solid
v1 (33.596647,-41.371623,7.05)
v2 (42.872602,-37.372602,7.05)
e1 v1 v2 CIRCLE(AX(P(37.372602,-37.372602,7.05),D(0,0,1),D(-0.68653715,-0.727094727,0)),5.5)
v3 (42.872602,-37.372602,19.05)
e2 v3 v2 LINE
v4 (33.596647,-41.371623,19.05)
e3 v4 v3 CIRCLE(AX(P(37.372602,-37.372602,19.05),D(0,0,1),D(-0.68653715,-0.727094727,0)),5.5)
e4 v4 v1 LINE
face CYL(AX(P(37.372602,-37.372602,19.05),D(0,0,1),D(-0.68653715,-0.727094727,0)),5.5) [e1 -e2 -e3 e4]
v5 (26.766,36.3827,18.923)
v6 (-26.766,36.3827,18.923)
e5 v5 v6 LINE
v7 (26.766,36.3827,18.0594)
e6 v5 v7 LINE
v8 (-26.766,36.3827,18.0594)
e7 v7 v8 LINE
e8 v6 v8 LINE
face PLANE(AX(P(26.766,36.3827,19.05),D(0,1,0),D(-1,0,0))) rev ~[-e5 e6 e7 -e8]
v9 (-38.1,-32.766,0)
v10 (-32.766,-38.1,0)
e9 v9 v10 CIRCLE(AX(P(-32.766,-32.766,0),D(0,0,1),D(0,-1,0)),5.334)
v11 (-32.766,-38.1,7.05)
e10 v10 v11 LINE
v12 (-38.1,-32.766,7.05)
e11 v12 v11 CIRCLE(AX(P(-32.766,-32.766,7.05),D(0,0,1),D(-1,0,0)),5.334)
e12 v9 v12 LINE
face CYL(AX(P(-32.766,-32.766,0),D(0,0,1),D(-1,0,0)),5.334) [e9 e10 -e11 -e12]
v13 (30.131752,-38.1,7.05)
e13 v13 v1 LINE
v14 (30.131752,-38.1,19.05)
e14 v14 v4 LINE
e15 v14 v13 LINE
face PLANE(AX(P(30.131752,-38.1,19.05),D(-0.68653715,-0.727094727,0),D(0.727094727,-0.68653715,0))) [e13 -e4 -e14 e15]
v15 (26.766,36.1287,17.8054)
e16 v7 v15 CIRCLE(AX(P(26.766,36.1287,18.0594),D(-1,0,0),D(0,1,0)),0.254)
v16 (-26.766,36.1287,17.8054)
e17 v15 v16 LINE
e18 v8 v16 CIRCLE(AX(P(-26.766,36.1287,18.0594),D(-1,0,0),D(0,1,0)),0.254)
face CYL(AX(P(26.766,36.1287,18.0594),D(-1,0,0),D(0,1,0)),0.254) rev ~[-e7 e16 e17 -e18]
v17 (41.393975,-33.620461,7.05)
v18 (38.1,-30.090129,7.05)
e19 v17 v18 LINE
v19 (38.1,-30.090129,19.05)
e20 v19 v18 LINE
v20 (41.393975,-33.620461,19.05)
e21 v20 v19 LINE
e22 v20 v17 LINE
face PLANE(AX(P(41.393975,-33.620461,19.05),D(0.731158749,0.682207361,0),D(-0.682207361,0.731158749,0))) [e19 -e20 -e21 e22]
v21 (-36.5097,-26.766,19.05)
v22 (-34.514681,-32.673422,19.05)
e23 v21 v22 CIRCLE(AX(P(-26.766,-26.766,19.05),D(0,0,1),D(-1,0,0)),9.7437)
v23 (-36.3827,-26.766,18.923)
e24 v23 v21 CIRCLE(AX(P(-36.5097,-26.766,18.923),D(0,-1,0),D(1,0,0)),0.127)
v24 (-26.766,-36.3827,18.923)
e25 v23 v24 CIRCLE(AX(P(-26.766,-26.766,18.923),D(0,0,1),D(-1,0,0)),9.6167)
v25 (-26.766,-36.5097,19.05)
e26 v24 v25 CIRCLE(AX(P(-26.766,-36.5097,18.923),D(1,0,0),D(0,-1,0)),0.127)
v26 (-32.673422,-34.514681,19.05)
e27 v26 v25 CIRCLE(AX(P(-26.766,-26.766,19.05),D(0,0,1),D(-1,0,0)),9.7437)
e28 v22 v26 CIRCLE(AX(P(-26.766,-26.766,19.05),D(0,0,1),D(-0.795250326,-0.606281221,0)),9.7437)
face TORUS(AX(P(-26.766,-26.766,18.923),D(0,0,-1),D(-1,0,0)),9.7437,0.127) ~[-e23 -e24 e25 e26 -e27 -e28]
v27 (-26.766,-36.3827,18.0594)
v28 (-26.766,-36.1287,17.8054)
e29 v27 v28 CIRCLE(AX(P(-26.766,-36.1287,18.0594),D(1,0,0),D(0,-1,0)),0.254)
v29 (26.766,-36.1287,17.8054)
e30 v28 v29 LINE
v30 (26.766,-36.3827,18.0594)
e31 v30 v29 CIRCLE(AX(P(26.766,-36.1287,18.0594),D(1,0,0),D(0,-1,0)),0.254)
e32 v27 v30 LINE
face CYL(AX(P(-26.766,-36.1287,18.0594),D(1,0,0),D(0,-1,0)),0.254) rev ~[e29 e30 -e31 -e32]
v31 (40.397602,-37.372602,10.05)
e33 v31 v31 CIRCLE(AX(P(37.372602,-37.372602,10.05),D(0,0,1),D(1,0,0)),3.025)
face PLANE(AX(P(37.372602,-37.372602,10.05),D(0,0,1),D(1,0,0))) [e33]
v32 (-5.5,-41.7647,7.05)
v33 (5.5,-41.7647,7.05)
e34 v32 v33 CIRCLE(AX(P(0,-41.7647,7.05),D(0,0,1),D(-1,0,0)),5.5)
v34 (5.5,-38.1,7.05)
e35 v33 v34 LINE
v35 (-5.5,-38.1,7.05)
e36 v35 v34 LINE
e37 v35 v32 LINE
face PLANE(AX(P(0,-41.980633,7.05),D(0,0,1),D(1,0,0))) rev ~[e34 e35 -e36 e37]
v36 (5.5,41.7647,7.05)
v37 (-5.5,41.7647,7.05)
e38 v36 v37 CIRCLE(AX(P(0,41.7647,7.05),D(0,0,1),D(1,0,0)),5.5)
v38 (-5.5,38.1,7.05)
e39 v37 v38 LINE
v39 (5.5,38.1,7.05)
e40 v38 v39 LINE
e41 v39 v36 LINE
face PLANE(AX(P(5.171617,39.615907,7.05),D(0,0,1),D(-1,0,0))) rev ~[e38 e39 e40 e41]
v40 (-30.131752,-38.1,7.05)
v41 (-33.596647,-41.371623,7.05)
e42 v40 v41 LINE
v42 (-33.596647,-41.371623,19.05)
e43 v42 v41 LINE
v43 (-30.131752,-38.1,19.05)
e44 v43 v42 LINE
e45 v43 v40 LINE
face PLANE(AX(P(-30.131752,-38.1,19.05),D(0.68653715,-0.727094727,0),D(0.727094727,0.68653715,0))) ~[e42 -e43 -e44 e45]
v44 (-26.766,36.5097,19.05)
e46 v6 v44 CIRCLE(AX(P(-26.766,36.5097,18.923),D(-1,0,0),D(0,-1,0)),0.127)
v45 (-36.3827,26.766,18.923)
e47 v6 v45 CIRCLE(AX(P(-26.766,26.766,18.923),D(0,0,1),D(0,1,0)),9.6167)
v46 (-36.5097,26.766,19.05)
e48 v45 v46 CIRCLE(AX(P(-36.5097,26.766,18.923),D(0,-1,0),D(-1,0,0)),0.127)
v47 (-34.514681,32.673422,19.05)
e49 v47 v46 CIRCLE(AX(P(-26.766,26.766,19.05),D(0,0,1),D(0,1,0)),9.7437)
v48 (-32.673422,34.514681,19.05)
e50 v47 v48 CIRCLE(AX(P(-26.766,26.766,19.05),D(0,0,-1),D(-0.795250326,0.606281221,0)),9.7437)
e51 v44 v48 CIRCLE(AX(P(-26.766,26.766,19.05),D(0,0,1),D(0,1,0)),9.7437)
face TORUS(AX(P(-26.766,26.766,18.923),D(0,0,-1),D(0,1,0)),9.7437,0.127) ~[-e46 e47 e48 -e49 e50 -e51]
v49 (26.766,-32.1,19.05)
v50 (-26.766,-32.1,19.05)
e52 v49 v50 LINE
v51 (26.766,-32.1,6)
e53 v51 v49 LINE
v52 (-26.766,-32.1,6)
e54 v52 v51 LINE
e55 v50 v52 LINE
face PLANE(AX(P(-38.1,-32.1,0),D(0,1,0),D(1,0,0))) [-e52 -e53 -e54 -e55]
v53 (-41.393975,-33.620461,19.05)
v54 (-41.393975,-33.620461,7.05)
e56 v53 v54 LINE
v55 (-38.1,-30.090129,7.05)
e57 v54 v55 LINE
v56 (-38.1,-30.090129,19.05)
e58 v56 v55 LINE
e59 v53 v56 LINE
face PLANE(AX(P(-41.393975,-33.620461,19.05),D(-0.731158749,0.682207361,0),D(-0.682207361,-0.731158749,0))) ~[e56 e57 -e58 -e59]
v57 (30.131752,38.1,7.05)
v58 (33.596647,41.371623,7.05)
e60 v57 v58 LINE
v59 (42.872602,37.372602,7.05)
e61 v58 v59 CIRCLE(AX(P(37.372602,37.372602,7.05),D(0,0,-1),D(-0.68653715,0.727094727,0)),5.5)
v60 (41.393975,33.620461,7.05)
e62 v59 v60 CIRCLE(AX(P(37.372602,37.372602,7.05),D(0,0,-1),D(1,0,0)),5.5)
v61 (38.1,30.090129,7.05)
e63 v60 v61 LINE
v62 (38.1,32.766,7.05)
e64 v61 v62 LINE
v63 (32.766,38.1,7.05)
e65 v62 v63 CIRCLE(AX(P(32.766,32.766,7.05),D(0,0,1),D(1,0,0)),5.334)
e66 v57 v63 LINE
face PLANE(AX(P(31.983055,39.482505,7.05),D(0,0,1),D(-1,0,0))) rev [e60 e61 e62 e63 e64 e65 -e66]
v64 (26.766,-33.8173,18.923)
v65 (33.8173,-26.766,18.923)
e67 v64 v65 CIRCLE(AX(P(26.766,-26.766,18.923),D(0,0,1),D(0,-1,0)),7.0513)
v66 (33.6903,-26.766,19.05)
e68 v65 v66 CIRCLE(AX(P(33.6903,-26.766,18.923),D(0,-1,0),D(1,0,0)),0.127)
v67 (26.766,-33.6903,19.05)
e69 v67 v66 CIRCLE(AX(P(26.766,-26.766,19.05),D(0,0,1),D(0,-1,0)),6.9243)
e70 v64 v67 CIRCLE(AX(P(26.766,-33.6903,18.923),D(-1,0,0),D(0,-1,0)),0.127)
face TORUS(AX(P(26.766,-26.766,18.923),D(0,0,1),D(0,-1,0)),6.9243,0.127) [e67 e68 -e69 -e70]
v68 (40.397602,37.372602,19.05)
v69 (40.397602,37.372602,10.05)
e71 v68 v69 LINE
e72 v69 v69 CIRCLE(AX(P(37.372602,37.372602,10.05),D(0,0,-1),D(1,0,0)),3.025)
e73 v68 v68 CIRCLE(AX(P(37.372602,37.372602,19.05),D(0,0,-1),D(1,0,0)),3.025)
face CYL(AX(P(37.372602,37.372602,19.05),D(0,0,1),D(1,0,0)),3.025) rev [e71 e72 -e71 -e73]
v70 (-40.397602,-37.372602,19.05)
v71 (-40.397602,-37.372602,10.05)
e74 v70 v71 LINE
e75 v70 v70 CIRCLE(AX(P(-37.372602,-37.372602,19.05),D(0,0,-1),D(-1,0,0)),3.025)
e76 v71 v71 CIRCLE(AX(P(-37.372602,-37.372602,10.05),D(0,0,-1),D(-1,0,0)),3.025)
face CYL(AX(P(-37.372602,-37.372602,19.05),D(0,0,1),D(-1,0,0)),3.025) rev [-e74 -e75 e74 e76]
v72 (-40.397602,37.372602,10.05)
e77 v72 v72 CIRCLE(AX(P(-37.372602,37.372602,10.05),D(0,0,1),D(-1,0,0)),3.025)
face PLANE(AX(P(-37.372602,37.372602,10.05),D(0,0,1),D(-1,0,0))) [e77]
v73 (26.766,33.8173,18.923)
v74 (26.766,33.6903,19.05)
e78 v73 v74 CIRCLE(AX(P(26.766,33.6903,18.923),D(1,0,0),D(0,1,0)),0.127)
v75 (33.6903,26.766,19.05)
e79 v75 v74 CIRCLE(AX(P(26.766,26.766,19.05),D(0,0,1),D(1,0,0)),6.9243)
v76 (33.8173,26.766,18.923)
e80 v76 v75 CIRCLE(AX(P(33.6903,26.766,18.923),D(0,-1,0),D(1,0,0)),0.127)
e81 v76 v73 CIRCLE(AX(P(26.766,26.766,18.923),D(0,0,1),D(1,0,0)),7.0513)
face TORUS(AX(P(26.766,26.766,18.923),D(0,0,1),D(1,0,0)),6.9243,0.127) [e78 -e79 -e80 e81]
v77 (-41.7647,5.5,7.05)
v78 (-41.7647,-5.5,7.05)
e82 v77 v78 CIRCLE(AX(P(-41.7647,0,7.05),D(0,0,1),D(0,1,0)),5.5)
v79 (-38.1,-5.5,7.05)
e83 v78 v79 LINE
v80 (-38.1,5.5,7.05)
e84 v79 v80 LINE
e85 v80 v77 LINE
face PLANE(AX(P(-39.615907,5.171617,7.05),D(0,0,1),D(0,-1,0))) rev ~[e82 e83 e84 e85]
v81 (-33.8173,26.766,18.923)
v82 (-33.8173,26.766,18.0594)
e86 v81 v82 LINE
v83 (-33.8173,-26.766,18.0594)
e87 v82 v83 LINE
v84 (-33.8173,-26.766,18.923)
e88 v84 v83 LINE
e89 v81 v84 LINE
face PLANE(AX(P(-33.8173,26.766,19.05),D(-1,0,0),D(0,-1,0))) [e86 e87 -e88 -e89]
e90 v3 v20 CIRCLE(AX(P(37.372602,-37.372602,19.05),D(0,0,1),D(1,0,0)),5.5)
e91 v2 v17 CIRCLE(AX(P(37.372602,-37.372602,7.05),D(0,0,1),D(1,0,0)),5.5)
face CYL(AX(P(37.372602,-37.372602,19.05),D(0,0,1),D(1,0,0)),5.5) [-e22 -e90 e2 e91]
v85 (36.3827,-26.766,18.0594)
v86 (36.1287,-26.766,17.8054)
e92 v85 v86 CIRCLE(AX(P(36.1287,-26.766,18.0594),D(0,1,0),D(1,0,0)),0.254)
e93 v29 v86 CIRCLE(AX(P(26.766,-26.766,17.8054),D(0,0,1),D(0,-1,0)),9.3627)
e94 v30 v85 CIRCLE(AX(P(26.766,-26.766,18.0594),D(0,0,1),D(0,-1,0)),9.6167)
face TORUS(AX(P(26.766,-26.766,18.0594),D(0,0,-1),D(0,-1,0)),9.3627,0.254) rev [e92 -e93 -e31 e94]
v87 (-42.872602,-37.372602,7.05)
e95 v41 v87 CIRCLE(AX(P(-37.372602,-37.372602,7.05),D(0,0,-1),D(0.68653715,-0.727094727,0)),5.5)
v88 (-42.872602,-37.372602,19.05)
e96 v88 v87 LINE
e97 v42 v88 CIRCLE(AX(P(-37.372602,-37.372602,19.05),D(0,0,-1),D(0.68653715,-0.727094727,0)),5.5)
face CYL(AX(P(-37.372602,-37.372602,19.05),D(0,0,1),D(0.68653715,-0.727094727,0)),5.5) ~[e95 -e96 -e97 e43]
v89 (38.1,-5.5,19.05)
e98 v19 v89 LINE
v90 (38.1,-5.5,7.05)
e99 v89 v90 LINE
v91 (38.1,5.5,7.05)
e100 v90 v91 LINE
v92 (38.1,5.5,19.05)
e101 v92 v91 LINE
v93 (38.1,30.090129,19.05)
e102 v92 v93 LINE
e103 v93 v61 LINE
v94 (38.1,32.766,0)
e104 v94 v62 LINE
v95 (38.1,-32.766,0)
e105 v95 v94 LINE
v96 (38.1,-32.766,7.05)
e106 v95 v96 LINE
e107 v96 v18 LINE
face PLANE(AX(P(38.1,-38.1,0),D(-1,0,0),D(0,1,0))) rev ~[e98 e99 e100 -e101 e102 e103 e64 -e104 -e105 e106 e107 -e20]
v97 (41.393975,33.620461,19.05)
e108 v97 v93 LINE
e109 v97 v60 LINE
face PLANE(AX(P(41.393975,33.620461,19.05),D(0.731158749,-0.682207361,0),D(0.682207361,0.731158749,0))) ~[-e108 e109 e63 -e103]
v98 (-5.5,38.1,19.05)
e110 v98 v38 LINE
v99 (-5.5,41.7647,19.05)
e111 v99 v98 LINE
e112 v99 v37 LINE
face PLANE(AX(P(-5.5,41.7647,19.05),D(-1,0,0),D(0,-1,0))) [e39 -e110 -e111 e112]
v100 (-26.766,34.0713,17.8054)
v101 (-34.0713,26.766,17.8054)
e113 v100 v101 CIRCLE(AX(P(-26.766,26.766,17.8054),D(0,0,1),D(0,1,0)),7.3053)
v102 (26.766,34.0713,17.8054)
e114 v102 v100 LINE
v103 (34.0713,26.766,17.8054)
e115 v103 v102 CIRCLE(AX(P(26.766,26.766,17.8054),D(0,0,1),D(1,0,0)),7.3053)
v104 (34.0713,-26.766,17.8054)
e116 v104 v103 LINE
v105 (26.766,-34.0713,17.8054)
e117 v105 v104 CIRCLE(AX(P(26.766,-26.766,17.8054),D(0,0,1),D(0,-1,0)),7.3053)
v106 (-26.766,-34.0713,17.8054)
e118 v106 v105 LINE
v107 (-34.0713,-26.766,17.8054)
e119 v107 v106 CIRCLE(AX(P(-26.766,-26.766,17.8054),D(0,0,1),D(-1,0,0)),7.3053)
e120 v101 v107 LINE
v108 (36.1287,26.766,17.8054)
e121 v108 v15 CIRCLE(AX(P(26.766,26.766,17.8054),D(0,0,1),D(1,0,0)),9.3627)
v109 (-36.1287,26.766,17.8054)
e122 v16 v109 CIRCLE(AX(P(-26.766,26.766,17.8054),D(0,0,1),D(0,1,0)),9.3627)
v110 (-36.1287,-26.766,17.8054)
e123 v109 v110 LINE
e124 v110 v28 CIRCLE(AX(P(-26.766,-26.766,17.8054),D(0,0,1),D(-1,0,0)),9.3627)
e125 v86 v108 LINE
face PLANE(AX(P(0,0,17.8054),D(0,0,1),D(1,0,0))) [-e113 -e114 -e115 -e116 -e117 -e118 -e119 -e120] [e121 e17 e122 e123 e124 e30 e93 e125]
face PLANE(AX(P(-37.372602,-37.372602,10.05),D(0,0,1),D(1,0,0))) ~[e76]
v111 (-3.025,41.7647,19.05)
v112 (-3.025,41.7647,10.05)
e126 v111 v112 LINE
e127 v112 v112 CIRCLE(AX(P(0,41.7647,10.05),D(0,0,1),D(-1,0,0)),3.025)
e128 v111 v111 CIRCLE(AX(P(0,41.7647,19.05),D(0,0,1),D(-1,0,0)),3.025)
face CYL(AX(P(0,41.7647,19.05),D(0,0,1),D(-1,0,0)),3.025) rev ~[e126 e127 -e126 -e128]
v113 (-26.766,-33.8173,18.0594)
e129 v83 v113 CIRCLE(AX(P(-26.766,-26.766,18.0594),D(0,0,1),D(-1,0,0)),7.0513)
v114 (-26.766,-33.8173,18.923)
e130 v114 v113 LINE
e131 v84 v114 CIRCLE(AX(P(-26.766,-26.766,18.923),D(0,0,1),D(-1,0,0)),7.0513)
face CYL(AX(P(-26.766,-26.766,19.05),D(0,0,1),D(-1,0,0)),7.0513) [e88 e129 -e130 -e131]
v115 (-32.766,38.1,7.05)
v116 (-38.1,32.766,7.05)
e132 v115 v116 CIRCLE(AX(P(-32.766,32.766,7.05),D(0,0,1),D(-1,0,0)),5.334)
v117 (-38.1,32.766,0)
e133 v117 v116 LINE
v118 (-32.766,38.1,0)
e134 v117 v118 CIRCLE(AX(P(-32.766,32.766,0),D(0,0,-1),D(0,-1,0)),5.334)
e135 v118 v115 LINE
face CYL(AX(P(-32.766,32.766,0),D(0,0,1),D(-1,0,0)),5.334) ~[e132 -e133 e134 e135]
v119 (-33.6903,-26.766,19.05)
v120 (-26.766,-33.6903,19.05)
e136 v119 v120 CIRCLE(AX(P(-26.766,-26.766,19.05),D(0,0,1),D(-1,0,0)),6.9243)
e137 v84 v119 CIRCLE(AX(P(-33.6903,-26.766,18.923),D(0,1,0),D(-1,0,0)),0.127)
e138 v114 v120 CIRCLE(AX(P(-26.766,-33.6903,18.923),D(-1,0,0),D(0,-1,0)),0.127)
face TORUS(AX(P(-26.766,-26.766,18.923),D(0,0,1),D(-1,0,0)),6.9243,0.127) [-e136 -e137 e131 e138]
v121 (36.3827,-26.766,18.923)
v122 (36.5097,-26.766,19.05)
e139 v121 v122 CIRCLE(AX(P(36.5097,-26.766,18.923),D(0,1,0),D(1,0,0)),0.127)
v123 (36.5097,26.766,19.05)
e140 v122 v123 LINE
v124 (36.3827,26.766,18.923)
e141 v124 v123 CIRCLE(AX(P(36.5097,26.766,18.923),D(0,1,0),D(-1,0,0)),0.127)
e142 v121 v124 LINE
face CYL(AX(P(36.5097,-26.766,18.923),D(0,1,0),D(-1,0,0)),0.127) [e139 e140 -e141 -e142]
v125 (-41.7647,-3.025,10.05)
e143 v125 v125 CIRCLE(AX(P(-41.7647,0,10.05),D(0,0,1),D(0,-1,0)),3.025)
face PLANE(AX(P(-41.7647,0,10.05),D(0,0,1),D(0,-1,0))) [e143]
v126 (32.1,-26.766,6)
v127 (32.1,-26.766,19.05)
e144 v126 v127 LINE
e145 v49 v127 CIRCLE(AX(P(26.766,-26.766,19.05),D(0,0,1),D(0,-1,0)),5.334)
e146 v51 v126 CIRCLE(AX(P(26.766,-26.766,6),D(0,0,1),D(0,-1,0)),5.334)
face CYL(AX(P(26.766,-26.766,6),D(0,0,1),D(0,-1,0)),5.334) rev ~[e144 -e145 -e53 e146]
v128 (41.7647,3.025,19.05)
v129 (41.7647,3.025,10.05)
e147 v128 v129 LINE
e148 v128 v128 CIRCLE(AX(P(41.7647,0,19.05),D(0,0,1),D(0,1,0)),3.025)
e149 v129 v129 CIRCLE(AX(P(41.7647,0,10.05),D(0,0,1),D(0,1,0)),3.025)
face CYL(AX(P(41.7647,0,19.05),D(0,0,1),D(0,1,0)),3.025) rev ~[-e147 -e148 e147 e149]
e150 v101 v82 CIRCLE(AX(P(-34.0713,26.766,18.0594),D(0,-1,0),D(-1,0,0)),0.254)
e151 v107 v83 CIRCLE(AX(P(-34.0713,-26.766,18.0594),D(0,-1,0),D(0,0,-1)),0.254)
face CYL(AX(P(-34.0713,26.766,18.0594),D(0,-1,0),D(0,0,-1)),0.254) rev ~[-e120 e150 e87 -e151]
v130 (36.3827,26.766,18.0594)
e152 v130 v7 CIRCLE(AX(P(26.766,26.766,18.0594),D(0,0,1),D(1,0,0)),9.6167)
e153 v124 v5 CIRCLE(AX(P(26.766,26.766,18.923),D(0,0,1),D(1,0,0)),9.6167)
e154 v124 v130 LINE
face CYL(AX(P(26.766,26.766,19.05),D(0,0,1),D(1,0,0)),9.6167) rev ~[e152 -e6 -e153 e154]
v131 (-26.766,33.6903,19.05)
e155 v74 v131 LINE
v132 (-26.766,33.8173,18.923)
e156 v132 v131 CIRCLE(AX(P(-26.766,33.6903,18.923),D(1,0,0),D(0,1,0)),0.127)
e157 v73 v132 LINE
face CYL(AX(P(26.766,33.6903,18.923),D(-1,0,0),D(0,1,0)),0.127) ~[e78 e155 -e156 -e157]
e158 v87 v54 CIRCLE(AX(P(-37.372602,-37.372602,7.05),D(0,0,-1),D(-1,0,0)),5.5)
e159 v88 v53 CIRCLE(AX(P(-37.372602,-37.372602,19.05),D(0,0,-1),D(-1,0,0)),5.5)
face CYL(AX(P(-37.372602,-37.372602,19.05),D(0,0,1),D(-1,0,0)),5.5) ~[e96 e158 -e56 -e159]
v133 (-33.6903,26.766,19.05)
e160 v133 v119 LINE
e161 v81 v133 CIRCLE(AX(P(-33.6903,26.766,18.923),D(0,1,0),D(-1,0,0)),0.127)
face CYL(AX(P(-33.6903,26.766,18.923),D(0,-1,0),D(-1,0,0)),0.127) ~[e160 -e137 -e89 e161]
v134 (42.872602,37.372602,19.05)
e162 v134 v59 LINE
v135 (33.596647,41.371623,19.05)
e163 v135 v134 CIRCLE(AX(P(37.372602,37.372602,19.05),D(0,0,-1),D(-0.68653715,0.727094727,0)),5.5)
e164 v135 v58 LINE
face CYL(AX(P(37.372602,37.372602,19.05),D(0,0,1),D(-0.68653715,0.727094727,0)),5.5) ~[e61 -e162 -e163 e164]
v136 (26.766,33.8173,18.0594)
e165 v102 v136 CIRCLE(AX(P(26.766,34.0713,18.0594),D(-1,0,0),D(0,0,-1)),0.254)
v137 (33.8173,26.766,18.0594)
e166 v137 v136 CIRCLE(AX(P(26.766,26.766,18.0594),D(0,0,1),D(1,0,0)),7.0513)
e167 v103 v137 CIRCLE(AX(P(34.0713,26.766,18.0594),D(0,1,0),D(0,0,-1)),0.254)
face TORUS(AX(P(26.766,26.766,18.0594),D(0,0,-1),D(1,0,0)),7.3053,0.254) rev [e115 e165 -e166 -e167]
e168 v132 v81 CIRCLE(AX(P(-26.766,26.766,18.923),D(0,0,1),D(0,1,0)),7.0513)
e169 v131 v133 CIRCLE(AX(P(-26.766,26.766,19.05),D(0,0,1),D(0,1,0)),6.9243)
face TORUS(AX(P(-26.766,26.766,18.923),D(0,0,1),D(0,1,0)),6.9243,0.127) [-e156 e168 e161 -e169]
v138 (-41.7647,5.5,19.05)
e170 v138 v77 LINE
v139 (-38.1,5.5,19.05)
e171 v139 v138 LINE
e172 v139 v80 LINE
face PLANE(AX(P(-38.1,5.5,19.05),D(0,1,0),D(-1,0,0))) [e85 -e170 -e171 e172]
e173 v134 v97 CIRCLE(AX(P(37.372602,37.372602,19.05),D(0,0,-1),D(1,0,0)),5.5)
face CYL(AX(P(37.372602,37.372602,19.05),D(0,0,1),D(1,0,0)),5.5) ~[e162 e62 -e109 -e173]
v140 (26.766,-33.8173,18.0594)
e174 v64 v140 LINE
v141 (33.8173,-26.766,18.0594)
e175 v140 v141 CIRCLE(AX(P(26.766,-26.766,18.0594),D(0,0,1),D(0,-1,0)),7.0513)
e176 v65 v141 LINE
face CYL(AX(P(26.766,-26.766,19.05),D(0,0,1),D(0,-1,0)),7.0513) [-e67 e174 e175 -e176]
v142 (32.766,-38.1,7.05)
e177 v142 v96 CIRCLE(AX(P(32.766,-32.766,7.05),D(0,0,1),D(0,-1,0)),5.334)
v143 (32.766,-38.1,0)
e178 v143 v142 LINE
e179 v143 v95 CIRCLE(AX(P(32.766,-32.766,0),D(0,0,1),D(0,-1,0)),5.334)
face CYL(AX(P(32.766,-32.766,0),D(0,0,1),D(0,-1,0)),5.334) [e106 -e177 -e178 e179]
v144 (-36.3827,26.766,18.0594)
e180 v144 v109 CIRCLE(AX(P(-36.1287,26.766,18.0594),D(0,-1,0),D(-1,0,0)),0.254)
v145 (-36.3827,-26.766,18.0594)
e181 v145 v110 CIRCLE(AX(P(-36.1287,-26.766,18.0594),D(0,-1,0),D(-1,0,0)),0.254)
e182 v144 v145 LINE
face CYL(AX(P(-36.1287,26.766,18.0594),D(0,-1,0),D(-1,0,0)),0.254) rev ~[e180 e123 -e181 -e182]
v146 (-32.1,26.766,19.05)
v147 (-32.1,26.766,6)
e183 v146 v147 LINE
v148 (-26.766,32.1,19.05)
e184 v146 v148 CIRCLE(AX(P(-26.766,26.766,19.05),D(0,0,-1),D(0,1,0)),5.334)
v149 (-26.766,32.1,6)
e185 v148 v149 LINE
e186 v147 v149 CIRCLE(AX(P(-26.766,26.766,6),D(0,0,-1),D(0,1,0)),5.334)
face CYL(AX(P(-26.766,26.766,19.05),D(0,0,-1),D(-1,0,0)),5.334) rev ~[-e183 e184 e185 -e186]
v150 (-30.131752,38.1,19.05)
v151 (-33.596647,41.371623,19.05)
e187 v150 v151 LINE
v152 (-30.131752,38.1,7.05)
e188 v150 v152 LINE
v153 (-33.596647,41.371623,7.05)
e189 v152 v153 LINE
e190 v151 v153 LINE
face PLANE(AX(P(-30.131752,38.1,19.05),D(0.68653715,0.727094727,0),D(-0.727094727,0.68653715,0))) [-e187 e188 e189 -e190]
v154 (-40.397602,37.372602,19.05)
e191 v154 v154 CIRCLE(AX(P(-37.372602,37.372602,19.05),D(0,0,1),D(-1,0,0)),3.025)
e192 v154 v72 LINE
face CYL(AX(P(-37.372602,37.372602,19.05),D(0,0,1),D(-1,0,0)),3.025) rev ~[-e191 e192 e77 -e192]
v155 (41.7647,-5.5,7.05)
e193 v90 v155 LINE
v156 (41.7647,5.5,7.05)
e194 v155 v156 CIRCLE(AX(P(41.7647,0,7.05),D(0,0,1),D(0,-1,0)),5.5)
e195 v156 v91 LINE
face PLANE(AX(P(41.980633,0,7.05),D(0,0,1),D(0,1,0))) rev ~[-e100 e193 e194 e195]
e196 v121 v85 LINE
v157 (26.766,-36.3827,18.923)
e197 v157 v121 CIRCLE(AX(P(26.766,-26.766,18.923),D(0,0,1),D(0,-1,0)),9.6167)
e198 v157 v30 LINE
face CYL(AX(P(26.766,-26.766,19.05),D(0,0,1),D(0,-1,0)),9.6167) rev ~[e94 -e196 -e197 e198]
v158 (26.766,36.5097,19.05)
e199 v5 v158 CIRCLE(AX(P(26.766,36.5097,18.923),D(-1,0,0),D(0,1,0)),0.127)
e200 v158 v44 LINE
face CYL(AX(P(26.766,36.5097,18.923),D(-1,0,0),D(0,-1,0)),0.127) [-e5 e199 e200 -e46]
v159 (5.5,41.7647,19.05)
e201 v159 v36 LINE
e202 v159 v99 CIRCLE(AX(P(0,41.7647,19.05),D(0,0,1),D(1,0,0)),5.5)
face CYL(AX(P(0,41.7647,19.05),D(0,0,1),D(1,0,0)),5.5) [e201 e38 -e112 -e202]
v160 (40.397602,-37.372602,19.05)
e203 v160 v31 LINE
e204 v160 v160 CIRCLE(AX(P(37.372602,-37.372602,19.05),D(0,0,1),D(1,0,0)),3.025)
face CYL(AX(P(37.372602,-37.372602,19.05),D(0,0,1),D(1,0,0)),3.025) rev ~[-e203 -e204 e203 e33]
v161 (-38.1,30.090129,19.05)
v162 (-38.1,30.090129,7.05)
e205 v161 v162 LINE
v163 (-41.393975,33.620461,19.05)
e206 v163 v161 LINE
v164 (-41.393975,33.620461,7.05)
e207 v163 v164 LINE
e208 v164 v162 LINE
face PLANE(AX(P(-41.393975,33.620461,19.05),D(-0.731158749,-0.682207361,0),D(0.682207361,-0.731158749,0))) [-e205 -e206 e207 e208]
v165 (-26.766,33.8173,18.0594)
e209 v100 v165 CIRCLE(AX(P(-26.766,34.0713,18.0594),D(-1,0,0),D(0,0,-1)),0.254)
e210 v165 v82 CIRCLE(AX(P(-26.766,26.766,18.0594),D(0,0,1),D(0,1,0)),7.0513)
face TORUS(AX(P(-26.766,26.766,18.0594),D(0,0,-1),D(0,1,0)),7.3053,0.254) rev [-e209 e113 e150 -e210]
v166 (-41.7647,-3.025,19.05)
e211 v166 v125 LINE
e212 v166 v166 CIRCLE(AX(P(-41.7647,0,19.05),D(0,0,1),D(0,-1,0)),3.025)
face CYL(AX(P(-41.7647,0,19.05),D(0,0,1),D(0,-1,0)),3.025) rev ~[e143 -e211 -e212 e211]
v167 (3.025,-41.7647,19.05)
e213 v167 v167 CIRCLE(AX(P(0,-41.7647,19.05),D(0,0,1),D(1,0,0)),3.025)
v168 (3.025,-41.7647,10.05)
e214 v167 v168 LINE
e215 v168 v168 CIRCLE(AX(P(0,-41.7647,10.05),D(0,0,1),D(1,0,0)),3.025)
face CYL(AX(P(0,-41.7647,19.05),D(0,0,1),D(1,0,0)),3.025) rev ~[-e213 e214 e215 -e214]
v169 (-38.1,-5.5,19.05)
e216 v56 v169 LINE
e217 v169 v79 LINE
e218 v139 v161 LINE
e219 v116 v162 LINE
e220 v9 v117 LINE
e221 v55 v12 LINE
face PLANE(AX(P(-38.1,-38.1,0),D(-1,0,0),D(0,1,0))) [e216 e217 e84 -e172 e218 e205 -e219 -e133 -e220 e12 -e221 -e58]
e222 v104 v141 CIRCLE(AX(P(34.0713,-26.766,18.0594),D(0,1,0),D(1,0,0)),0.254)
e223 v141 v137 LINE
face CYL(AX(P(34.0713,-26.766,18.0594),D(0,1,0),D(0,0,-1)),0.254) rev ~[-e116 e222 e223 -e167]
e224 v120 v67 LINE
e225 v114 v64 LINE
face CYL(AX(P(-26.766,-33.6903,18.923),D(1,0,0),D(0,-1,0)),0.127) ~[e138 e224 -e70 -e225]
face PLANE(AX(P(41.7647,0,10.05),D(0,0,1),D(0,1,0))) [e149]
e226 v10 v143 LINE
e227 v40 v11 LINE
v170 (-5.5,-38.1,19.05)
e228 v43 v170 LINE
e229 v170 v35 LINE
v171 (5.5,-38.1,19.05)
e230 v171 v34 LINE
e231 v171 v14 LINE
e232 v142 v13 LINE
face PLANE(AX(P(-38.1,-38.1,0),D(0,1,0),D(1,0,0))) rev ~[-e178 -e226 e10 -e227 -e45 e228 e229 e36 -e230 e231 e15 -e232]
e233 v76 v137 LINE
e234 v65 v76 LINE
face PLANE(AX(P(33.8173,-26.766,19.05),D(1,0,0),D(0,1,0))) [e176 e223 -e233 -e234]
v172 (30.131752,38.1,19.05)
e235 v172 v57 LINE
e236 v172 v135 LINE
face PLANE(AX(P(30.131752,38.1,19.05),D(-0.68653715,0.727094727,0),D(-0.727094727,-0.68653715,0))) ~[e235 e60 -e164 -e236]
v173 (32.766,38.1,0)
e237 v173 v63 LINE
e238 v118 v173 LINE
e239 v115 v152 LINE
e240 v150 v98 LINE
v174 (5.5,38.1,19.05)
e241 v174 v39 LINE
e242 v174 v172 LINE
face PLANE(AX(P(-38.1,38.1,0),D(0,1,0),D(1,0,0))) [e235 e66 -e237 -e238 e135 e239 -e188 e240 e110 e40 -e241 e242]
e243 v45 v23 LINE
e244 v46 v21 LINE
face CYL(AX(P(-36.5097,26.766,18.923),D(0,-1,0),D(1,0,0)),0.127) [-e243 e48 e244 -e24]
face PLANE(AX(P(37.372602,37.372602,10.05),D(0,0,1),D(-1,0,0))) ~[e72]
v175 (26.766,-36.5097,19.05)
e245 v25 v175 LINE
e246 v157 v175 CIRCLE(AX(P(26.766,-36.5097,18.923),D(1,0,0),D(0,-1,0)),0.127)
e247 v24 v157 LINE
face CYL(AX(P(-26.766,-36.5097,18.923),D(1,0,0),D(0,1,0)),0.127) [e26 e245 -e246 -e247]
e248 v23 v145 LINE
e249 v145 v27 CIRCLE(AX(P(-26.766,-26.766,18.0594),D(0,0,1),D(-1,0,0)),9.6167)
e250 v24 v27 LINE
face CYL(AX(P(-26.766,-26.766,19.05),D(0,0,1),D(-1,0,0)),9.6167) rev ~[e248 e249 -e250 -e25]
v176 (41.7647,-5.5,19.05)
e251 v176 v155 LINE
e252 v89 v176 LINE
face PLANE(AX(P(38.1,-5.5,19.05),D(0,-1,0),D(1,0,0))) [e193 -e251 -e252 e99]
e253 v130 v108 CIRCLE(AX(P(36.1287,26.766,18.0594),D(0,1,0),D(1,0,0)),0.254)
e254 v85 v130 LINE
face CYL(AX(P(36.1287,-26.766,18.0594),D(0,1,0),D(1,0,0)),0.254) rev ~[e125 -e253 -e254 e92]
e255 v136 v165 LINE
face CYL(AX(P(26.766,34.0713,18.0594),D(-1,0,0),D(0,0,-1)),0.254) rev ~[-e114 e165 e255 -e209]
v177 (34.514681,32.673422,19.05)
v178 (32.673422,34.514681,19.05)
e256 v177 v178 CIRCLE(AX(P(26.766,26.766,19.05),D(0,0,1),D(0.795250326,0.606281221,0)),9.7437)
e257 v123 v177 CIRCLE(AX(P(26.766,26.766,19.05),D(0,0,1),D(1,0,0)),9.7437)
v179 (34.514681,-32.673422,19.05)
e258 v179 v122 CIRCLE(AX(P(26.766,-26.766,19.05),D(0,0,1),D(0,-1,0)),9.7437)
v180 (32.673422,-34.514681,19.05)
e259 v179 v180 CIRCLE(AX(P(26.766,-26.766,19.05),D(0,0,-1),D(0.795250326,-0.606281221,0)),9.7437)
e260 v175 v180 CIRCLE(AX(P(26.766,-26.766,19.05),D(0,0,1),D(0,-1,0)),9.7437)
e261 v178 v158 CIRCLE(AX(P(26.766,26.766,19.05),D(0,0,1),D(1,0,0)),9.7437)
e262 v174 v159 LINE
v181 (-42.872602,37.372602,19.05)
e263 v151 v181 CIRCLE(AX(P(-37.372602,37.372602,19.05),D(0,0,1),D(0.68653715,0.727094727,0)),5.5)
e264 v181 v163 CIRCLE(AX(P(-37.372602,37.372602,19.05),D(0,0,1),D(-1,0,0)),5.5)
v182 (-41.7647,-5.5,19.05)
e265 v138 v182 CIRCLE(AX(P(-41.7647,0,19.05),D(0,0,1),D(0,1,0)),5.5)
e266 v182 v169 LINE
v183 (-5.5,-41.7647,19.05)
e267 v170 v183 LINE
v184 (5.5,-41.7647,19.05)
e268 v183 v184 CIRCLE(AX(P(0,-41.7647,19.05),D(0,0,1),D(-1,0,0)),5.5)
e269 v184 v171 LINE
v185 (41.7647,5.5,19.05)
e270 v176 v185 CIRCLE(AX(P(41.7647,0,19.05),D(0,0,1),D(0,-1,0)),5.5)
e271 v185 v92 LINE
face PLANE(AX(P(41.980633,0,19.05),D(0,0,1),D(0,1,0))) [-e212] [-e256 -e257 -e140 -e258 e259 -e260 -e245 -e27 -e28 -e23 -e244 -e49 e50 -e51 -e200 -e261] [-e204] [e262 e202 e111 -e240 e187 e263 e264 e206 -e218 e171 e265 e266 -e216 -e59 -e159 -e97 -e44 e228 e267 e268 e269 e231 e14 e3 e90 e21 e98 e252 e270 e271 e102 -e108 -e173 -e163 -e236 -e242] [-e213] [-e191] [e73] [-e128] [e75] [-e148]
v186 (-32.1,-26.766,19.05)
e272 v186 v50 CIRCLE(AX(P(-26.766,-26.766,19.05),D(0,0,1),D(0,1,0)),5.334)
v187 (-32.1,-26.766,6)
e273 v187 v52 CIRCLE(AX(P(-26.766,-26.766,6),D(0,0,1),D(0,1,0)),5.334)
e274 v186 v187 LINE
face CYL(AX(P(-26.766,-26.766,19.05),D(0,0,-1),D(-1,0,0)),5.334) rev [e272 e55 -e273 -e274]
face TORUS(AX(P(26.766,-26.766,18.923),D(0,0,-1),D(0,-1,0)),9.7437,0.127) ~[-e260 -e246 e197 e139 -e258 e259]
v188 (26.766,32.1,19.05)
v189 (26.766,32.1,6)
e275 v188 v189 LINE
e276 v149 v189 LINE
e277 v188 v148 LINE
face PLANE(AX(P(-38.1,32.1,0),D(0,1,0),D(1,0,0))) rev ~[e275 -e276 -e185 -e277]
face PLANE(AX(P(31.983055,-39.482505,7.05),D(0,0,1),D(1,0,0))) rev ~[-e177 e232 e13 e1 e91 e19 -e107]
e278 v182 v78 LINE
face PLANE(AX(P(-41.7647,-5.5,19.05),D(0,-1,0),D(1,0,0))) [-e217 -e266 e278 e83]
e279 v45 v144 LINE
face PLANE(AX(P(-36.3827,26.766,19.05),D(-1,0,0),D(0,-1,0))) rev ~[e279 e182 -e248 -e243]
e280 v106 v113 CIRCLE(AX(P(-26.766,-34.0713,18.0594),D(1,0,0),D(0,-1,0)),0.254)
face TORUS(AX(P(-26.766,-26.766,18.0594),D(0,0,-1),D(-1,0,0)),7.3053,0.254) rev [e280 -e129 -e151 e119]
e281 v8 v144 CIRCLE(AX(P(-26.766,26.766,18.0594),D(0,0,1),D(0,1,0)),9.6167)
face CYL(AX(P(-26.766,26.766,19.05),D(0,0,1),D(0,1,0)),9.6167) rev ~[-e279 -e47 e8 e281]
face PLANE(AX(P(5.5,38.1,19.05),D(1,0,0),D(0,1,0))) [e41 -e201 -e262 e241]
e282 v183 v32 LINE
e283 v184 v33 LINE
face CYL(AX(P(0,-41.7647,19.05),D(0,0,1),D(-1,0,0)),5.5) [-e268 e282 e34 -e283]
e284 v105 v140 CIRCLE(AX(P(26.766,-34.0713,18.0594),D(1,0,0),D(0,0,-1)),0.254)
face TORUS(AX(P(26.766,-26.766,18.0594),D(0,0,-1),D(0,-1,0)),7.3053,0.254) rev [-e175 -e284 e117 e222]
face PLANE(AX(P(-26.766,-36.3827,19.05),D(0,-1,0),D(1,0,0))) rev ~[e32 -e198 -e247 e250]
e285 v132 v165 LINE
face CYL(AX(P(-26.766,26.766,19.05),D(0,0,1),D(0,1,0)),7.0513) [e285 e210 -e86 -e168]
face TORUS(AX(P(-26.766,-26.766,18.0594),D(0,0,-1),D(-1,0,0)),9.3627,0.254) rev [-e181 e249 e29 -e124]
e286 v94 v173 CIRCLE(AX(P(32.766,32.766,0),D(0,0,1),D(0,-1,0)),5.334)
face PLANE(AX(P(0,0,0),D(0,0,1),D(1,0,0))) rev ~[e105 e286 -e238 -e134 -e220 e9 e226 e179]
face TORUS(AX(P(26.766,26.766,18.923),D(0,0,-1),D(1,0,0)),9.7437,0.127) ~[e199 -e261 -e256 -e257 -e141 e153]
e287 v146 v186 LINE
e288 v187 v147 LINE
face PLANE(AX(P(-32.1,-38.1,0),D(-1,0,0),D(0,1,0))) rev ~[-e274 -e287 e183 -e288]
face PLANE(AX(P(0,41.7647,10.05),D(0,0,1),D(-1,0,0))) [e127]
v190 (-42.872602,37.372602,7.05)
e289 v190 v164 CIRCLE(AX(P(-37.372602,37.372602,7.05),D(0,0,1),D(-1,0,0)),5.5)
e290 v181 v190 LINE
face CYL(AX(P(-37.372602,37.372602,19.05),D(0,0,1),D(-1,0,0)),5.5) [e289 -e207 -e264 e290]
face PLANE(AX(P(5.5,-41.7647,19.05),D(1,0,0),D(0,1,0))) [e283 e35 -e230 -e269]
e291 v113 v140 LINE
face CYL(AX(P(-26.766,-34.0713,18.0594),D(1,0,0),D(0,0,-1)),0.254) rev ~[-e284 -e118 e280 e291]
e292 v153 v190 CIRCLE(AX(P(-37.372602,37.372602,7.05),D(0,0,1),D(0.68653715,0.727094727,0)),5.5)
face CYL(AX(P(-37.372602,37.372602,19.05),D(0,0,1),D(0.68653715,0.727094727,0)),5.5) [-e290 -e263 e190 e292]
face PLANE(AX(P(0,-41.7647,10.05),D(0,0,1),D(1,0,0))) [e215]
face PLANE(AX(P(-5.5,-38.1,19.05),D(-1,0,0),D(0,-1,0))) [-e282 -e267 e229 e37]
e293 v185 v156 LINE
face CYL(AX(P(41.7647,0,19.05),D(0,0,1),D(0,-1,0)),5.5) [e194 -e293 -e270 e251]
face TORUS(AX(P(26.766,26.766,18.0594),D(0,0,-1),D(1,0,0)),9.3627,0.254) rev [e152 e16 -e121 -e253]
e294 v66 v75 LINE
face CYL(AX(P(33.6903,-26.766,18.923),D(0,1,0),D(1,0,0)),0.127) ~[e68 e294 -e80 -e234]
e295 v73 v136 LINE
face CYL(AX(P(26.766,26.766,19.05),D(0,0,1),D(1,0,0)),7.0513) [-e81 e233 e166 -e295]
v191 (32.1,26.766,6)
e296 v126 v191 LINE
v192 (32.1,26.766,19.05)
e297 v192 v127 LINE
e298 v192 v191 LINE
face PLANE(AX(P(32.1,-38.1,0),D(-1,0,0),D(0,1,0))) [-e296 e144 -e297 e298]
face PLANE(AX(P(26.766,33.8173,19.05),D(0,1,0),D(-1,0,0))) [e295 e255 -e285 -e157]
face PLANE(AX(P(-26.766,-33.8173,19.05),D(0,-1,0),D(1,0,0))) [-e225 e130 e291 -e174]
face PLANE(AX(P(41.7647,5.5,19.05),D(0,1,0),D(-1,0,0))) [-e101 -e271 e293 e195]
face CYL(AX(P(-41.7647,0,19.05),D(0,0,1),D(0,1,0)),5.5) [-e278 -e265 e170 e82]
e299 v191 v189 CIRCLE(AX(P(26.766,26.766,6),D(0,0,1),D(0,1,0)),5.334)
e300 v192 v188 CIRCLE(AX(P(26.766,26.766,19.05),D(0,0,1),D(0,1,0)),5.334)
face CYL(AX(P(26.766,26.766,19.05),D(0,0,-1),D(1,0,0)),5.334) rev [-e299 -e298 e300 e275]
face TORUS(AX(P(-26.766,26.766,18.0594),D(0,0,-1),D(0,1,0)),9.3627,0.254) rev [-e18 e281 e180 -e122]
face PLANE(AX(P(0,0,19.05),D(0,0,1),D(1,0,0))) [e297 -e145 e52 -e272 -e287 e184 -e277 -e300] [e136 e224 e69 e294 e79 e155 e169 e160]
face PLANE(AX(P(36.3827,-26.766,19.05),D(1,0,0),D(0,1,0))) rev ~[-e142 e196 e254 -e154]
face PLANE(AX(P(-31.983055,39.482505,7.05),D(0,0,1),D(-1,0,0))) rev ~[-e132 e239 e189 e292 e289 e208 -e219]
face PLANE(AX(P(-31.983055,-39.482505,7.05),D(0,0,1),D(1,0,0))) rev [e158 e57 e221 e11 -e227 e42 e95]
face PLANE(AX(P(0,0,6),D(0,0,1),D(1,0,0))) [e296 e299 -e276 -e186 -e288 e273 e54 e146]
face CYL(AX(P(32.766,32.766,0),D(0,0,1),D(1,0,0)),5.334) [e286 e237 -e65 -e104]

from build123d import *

# Parameters (mm, degrees)
SKETCH1_W               = 76.2
SKETCH1_H               = 76.2
BOSS_EXTRUDE1_DEPTH     = 19.05
SHELL4_T                = -6
FILLET3_R               = 5.334
FILLET4_R               = 5.334
CUT_EXTRUDE1_DEPTH      = 1.2446
FILLET5_R               = 0.254
FILLET6_R               = 0.127
BOSS_EXTRUDE2_DEPTH     = 12
SKETCH6_R               = 3.025
CUT_EXTRUDE2_DEPTH      = 9
MIRROR2_COPY_1_DEPTH    = 12
MIRROR2_COPY_2_SKETCH_R = 3.025
MIRROR2_COPY_2_DEPTH    = 9
SKETCH7_R               = 3.025
BOSS_EXTRUDE3_DEPTH     = 12
SKETCH8_R               = 3.025
CUT_EXTRUDE4_DEPTH      = 9
CIRPATTERN1_COUNT       = 4


with BuildPart() as part:
    # Sketch1 → Boss-Extrude1 (new body)
    with BuildSketch(Plane.XY):
        Rectangle(SKETCH1_W, SKETCH1_H)
    extrude(amount=BOSS_EXTRUDE1_DEPTH)

    # Shell4
    shell4_openings = [part.faces().sort_by_distance(p)[0] for p in [
        (0, 0, 19.05),
    ]]
    offset(amount=SHELL4_T, openings=shell4_openings, kind=Kind.INTERSECTION)

    # Fillet3
    fillet3_edges = [part.edges().sort_by_distance(p)[0] for p in [
        (32.1, -32.1, 12.525),
        (32.1, 32.1, 12.525),
        (-32.1, 32.1, 12.525),
        (-32.1, -32.1, 12.525),
    ]]
    fillet(fillet3_edges, radius=FILLET3_R)

    # Fillet4
    fillet4_edges = [part.edges().sort_by_distance(p)[0] for p in [
        (38.1, -38.1, 9.525),
        (-38.1, -38.1, 9.525),
        (-38.1, 38.1, 9.525),
        (38.1, 38.1, 9.525),
    ]]
    fillet(fillet4_edges, radius=FILLET4_R)

    # Sketch3 → Cut-Extrude1 (cut)
    with BuildSketch(Plane.XY.offset(19.05)):
        with BuildLine():
            Line((36.3827, -26.766), (36.3827, 26.766))
            ThreePointArc((36.3827, 26.766), (33.566033783, 33.566033783), (26.766, 36.3827))
            Line((26.766, 36.3827), (-26.766, 36.3827))
            ThreePointArc((-26.766, 36.3827), (-33.566033783, 33.566033783), (-36.3827, 26.766))
            Line((-36.3827, 26.766), (-36.3827, -26.766))
            ThreePointArc((-36.3827, -26.766), (-33.566033783, -33.566033783), (-26.766, -36.3827))
            Line((-26.766, -36.3827), (26.766, -36.3827))
            ThreePointArc((26.766, -36.3827), (33.566033783, -33.566033783), (36.3827, -26.766))
        make_face()
        with BuildLine():
            Line((-33.8173, 26.766), (-33.8173, -26.766))
            ThreePointArc((-33.8173, -26.766), (-31.752022046, -31.752022046), (-26.766, -33.8173))
            Line((-26.766, -33.8173), (26.766, -33.8173))
            ThreePointArc((26.766, -33.8173), (31.752022046, -31.752022046), (33.8173, -26.766))
            Line((33.8173, -26.766), (33.8173, 26.766))
            ThreePointArc((33.8173, 26.766), (31.752022046, 31.752022046), (26.766, 33.8173))
            Line((26.766, 33.8173), (-26.766, 33.8173))
            ThreePointArc((-26.766, 33.8173), (-31.752022046, 31.752022046), (-33.8173, 26.766))
        make_face(mode=Mode.SUBTRACT)
    extrude(amount=-CUT_EXTRUDE1_DEPTH, mode=Mode.SUBTRACT)

    # Fillet5
    fillet5_edges = [part.edges().sort_by_distance(p)[0] for p in [
        (33.566033783, -33.566033783, 17.8054),
        (0, -36.3827, 17.8054),
        (-33.566033783, -33.566033783, 17.8054),
        (-36.3827, 0, 17.8054),
        (-33.566033783, 33.566033783, 17.8054),
        (0, 36.3827, 17.8054),
        (33.566033783, 33.566033783, 17.8054),
        (36.3827, 0, 17.8054),
        (0, 33.8173, 17.8054),
        (-31.752022046, 31.752022046, 17.8054),
        (-33.8173, 0, 17.8054),
        (-31.752022046, -31.752022046, 17.8054),
        (0, -33.8173, 17.8054),
        (31.752022046, -31.752022046, 17.8054),
        (33.8173, 0, 17.8054),
        (31.752022046, 31.752022046, 17.8054),
    ]]
    fillet(fillet5_edges, radius=FILLET5_R)

    # Fillet6
    fillet6_edges = [part.edges().sort_by_distance(p)[0] for p in [
        (33.566033783, -33.566033783, 19.05),
        (36.3827, 0, 19.05),
        (33.566033783, 33.566033783, 19.05),
        (0, 36.3827, 19.05),
        (-33.566033783, 33.566033783, 19.05),
        (-36.3827, 0, 19.05),
        (-33.566033783, -33.566033783, 19.05),
        (0, -36.3827, 19.05),
        (-31.752022046, 31.752022046, 19.05),
        (0, 33.8173, 19.05),
        (31.752022046, 31.752022046, 19.05),
        (33.8173, 0, 19.05),
        (31.752022046, -31.752022046, 19.05),
        (0, -33.8173, 19.05),
        (-31.752022046, -31.752022046, 19.05),
        (-33.8173, 0, 19.05),
    ]]
    fillet(fillet6_edges, radius=FILLET6_R)

    # Sketch5 → Boss-Extrude2 (add)
    with BuildSketch(Plane.XY.offset(19.05)):
        with BuildLine():
            Line((31.920914663, -38.1), (30.131751686, -38.1))
            Line((30.131751686, -38.1), (33.596647392, -41.371622715))
            ThreePointArc((33.596647392, -41.371622715), (32.477377499, -39.879946896), (31.920914663, -38.1))
        make_face()
        with BuildLine():
            ThreePointArc((38.1, -31.920914663), (39.894470489, -32.484843755), (41.393974839, -33.620461233))
            Line((41.393974839, -33.620461233), (38.1, -30.090129163))
            Line((38.1, -30.090129163), (38.1, -31.920914663))
        make_face()
        with BuildLine():
            ThreePointArc((31.920914663, -38.1), (32.477377499, -39.879946896), (33.596647392, -41.371622715))
            ThreePointArc((33.596647392, -41.371622715), (39.550014312, -42.423232807), (42.872601718, -37.372601718))
            ThreePointArc((42.872601718, -37.372601718), (42.489610227, -35.356113703), (41.393974839, -33.620461233))
            ThreePointArc((41.393974839, -33.620461233), (39.894470489, -32.484843755), (38.1, -31.920914663))
            Line((38.1, -31.920914663), (38.1, -32.766))
            ThreePointArc((38.1, -32.766), (38.036695789, -33.585342355), (37.848285754, -34.385236709))
            ThreePointArc((37.848285754, -34.385236709), (39.673641614, -35.408972324), (40.397601718, -37.372601718))
            ThreePointArc((40.397601718, -37.372601718), (37.611186972, -40.388178292), (34.385236709, -37.848285754))
            ThreePointArc((34.385236709, -37.848285754), (33.585342355, -38.036695789), (32.766, -38.1))
            Line((32.766, -38.1), (31.920914663, -38.1))
        make_face()
        with BuildLine():
            ThreePointArc((32.673422332, -34.514680603), (31.989883894, -36.242845623), (31.920914663, -38.1))
            Line((31.920914663, -38.1), (32.766, -38.1))
            ThreePointArc((32.766, -38.1), (33.585342355, -38.036695789), (34.385236709, -37.848285754))
            ThreePointArc((34.385236709, -37.848285754), (35.233603705, -35.233603705), (37.848285754, -34.385236709))
            ThreePointArc((37.848285754, -34.385236709), (38.036695789, -33.585342355), (38.1, -32.766))
            Line((38.1, -32.766), (38.1, -31.920914663))
            ThreePointArc((38.1, -31.920914663), (36.242845623, -31.989883894), (34.514680603, -32.673422332))
            ThreePointArc((34.514680603, -32.673422332), (33.655836344, -33.655836344), (32.673422332, -34.514680603))
        make_face()
        with BuildLine():
            ThreePointArc((37.848285754, -34.385236709), (35.233603705, -35.233603705), (34.385236709, -37.848285754))
            ThreePointArc((34.385236709, -37.848285754), (36.537707571, -36.537707571), (37.848285754, -34.385236709))
        make_face()
        with BuildLine():
            ThreePointArc((37.848285754, -34.385236709), (36.537707571, -36.537707571), (34.385236709, -37.848285754))
            ThreePointArc((34.385236709, -37.848285754), (37.611186972, -40.388178292), (40.397601718, -37.372601718))
            ThreePointArc((40.397601718, -37.372601718), (39.673641614, -35.408972324), (37.848285754, -34.385236709))
        make_face()
    boss_extrude2 = extrude(amount=-BOSS_EXTRUDE2_DEPTH)

    # Sketch6 → Cut-Extrude2 (cut)
    with BuildSketch(Plane.XY.offset(19.05)):
        with Locations((37.372601718, -37.372601718)):
            Circle(SKETCH6_R)
    cut_extrude2 = extrude(amount=-CUT_EXTRUDE2_DEPTH, mode=Mode.SUBTRACT)

    # Mirror1: Boss-Extrude2, Cut-Extrude2 across plane
    add(boss_extrude2.mirror(Plane.ZX))
    add(cut_extrude2.mirror(Plane.ZX), mode=Mode.SUBTRACT)

    # Mirror2: Boss-Extrude2, Cut-Extrude2 across plane
    add(boss_extrude2.mirror(Plane(origin=(0, 0, 0), x_dir=(0, 0, 1), z_dir=(1, 0, 0))))
    add(cut_extrude2.mirror(Plane(origin=(0, 0, 0), x_dir=(0, 0, 1), z_dir=(1, 0, 0))), mode=Mode.SUBTRACT)

    # Mirror2 copy 1 sketch → Mirror2 copy 1 (add)
    with BuildSketch(Plane(origin=(0, 0, 19.05), x_dir=(-1, 0, 0), z_dir=(0, 0, 1))):
        with BuildLine():
            Line((31.920914663, -38.1), (30.131751686, -38.1))
            Line((30.131751686, -38.1), (33.596647392, -41.371622715))
            ThreePointArc((33.596647392, -41.371622715), (32.477377499, -39.879946896), (31.920914663, -38.1))
        make_face()
        with BuildLine():
            ThreePointArc((38.1, -31.920914663), (39.894470489, -32.484843755), (41.393974839, -33.620461233))
            Line((41.393974839, -33.620461233), (38.1, -30.090129163))
            Line((38.1, -30.090129163), (38.1, -31.920914663))
        make_face()
        with BuildLine():
            ThreePointArc((31.920914663, -38.1), (32.477377499, -39.879946896), (33.596647392, -41.371622715))
            ThreePointArc((33.596647392, -41.371622715), (39.550014312, -42.423232807), (42.872601718, -37.372601718))
            ThreePointArc((42.872601718, -37.372601718), (42.489610227, -35.356113703), (41.393974839, -33.620461233))
            ThreePointArc((41.393974839, -33.620461233), (39.894470489, -32.484843755), (38.1, -31.920914663))
            Line((38.1, -31.920914663), (38.1, -32.766))
            ThreePointArc((38.1, -32.766), (38.036695789, -33.585342355), (37.848285754, -34.385236709))
            ThreePointArc((37.848285754, -34.385236709), (39.673641614, -35.408972324), (40.397601718, -37.372601718))
            ThreePointArc((40.397601718, -37.372601718), (37.611186972, -40.388178292), (34.385236709, -37.848285754))
            ThreePointArc((34.385236709, -37.848285754), (33.585342355, -38.036695789), (32.766, -38.1))
            Line((32.766, -38.1), (31.920914663, -38.1))
        make_face()
        with BuildLine():
            ThreePointArc((32.673422332, -34.514680603), (31.989883894, -36.242845623), (31.920914663, -38.1))
            Line((31.920914663, -38.1), (32.766, -38.1))
            ThreePointArc((32.766, -38.1), (33.585342355, -38.036695789), (34.385236709, -37.848285754))
            ThreePointArc((34.385236709, -37.848285754), (35.233603705, -35.233603705), (37.848285754, -34.385236709))
            ThreePointArc((37.848285754, -34.385236709), (38.036695789, -33.585342355), (38.1, -32.766))
            Line((38.1, -32.766), (38.1, -31.920914663))
            ThreePointArc((38.1, -31.920914663), (36.242845623, -31.989883894), (34.514680603, -32.673422332))
            ThreePointArc((34.514680603, -32.673422332), (33.655836344, -33.655836344), (32.673422332, -34.514680603))
        make_face()
        with BuildLine():
            ThreePointArc((37.848285754, -34.385236709), (35.233603705, -35.233603705), (34.385236709, -37.848285754))
            ThreePointArc((34.385236709, -37.848285754), (36.537707571, -36.537707571), (37.848285754, -34.385236709))
        make_face()
        with BuildLine():
            ThreePointArc((37.848285754, -34.385236709), (36.537707571, -36.537707571), (34.385236709, -37.848285754))
            ThreePointArc((34.385236709, -37.848285754), (37.611186972, -40.388178292), (40.397601718, -37.372601718))
            ThreePointArc((40.397601718, -37.372601718), (39.673641614, -35.408972324), (37.848285754, -34.385236709))
        make_face()
    extrude(amount=-MIRROR2_COPY_1_DEPTH)

    # Mirror2 copy 2 sketch → Mirror2 copy 2 (cut)
    with BuildSketch(Plane(origin=(0, 0, 19.05), x_dir=(-1, 0, 0), z_dir=(0, 0, 1))):
        with Locations((37.372601718, -37.372601718)):
            Circle(MIRROR2_COPY_2_SKETCH_R)
    extrude(amount=-MIRROR2_COPY_2_DEPTH, mode=Mode.SUBTRACT)

    # Sketch7 → Boss-Extrude3 (add)
    # profile 1 of 4: a face of its own
    with BuildSketch(Plane.XY.offset(19.05)):
        with BuildLine():
            ThreePointArc((-4.10121615, -38.1), (-5.138418474, -39.803410733), (-5.5, -41.7647))
            ThreePointArc((-5.5, -41.7647), (0, -47.2647), (5.5, -41.7647))
            ThreePointArc((5.5, -41.7647), (5.138418474, -39.803410733), (4.10121615, -38.1))
            Line((4.10121615, -38.1), (-4.10121615, -38.1))
        make_face()
        with Locations((0, -41.7647)):
            Circle(SKETCH7_R, mode=Mode.SUBTRACT)
    # profile 2 of 4: a face of its own
    with BuildSketch(Plane.XY.offset(19.05)):
        with Locations((0, -41.7647)):
            Circle(SKETCH7_R)
    # profile 3 of 4: a face of its own
    with BuildSketch(Plane.XY.offset(19.05)):
        with BuildLine():
            Line((-5.5, -38.1), (-5.5, -41.7647))
            ThreePointArc((-5.5, -41.7647), (-5.138418474, -39.803410733), (-4.10121615, -38.1))
            Line((-4.10121615, -38.1), (-5.5, -38.1))
        make_face()
    # profile 4 of 4: a face of its own
    with BuildSketch(Plane.XY.offset(19.05)):
        with BuildLine():
            ThreePointArc((4.10121615, -38.1), (5.138418474, -39.803410733), (5.5, -41.7647))
            Line((5.5, -41.7647), (5.5, -38.1))
            Line((5.5, -38.1), (4.10121615, -38.1))
        make_face()
    boss_extrude3 = extrude(amount=-BOSS_EXTRUDE3_DEPTH)

    # Sketch8 → Cut-Extrude4 (cut)
    with BuildSketch(Plane.XY.offset(19.05)):
        with Locations((0, -41.7647)):
            Circle(SKETCH8_R)
    cut_extrude4 = extrude(amount=-CUT_EXTRUDE4_DEPTH, mode=Mode.SUBTRACT)

    # CirPattern1: Boss-Extrude3, Cut-Extrude4 ×4 about axis
    cirpattern1_axis = Axis((0, 0, 0), (0, 0, 1))
    add([boss_extrude3.rotate(cirpattern1_axis, i * 360 / CIRPATTERN1_COUNT) for i in range(1, CIRPATTERN1_COUNT)])
    add([cut_extrude4.rotate(cirpattern1_axis, i * 360 / CIRPATTERN1_COUNT) for i in range(1, CIRPATTERN1_COUNT)], mode=Mode.SUBTRACT)


solid = part.part
